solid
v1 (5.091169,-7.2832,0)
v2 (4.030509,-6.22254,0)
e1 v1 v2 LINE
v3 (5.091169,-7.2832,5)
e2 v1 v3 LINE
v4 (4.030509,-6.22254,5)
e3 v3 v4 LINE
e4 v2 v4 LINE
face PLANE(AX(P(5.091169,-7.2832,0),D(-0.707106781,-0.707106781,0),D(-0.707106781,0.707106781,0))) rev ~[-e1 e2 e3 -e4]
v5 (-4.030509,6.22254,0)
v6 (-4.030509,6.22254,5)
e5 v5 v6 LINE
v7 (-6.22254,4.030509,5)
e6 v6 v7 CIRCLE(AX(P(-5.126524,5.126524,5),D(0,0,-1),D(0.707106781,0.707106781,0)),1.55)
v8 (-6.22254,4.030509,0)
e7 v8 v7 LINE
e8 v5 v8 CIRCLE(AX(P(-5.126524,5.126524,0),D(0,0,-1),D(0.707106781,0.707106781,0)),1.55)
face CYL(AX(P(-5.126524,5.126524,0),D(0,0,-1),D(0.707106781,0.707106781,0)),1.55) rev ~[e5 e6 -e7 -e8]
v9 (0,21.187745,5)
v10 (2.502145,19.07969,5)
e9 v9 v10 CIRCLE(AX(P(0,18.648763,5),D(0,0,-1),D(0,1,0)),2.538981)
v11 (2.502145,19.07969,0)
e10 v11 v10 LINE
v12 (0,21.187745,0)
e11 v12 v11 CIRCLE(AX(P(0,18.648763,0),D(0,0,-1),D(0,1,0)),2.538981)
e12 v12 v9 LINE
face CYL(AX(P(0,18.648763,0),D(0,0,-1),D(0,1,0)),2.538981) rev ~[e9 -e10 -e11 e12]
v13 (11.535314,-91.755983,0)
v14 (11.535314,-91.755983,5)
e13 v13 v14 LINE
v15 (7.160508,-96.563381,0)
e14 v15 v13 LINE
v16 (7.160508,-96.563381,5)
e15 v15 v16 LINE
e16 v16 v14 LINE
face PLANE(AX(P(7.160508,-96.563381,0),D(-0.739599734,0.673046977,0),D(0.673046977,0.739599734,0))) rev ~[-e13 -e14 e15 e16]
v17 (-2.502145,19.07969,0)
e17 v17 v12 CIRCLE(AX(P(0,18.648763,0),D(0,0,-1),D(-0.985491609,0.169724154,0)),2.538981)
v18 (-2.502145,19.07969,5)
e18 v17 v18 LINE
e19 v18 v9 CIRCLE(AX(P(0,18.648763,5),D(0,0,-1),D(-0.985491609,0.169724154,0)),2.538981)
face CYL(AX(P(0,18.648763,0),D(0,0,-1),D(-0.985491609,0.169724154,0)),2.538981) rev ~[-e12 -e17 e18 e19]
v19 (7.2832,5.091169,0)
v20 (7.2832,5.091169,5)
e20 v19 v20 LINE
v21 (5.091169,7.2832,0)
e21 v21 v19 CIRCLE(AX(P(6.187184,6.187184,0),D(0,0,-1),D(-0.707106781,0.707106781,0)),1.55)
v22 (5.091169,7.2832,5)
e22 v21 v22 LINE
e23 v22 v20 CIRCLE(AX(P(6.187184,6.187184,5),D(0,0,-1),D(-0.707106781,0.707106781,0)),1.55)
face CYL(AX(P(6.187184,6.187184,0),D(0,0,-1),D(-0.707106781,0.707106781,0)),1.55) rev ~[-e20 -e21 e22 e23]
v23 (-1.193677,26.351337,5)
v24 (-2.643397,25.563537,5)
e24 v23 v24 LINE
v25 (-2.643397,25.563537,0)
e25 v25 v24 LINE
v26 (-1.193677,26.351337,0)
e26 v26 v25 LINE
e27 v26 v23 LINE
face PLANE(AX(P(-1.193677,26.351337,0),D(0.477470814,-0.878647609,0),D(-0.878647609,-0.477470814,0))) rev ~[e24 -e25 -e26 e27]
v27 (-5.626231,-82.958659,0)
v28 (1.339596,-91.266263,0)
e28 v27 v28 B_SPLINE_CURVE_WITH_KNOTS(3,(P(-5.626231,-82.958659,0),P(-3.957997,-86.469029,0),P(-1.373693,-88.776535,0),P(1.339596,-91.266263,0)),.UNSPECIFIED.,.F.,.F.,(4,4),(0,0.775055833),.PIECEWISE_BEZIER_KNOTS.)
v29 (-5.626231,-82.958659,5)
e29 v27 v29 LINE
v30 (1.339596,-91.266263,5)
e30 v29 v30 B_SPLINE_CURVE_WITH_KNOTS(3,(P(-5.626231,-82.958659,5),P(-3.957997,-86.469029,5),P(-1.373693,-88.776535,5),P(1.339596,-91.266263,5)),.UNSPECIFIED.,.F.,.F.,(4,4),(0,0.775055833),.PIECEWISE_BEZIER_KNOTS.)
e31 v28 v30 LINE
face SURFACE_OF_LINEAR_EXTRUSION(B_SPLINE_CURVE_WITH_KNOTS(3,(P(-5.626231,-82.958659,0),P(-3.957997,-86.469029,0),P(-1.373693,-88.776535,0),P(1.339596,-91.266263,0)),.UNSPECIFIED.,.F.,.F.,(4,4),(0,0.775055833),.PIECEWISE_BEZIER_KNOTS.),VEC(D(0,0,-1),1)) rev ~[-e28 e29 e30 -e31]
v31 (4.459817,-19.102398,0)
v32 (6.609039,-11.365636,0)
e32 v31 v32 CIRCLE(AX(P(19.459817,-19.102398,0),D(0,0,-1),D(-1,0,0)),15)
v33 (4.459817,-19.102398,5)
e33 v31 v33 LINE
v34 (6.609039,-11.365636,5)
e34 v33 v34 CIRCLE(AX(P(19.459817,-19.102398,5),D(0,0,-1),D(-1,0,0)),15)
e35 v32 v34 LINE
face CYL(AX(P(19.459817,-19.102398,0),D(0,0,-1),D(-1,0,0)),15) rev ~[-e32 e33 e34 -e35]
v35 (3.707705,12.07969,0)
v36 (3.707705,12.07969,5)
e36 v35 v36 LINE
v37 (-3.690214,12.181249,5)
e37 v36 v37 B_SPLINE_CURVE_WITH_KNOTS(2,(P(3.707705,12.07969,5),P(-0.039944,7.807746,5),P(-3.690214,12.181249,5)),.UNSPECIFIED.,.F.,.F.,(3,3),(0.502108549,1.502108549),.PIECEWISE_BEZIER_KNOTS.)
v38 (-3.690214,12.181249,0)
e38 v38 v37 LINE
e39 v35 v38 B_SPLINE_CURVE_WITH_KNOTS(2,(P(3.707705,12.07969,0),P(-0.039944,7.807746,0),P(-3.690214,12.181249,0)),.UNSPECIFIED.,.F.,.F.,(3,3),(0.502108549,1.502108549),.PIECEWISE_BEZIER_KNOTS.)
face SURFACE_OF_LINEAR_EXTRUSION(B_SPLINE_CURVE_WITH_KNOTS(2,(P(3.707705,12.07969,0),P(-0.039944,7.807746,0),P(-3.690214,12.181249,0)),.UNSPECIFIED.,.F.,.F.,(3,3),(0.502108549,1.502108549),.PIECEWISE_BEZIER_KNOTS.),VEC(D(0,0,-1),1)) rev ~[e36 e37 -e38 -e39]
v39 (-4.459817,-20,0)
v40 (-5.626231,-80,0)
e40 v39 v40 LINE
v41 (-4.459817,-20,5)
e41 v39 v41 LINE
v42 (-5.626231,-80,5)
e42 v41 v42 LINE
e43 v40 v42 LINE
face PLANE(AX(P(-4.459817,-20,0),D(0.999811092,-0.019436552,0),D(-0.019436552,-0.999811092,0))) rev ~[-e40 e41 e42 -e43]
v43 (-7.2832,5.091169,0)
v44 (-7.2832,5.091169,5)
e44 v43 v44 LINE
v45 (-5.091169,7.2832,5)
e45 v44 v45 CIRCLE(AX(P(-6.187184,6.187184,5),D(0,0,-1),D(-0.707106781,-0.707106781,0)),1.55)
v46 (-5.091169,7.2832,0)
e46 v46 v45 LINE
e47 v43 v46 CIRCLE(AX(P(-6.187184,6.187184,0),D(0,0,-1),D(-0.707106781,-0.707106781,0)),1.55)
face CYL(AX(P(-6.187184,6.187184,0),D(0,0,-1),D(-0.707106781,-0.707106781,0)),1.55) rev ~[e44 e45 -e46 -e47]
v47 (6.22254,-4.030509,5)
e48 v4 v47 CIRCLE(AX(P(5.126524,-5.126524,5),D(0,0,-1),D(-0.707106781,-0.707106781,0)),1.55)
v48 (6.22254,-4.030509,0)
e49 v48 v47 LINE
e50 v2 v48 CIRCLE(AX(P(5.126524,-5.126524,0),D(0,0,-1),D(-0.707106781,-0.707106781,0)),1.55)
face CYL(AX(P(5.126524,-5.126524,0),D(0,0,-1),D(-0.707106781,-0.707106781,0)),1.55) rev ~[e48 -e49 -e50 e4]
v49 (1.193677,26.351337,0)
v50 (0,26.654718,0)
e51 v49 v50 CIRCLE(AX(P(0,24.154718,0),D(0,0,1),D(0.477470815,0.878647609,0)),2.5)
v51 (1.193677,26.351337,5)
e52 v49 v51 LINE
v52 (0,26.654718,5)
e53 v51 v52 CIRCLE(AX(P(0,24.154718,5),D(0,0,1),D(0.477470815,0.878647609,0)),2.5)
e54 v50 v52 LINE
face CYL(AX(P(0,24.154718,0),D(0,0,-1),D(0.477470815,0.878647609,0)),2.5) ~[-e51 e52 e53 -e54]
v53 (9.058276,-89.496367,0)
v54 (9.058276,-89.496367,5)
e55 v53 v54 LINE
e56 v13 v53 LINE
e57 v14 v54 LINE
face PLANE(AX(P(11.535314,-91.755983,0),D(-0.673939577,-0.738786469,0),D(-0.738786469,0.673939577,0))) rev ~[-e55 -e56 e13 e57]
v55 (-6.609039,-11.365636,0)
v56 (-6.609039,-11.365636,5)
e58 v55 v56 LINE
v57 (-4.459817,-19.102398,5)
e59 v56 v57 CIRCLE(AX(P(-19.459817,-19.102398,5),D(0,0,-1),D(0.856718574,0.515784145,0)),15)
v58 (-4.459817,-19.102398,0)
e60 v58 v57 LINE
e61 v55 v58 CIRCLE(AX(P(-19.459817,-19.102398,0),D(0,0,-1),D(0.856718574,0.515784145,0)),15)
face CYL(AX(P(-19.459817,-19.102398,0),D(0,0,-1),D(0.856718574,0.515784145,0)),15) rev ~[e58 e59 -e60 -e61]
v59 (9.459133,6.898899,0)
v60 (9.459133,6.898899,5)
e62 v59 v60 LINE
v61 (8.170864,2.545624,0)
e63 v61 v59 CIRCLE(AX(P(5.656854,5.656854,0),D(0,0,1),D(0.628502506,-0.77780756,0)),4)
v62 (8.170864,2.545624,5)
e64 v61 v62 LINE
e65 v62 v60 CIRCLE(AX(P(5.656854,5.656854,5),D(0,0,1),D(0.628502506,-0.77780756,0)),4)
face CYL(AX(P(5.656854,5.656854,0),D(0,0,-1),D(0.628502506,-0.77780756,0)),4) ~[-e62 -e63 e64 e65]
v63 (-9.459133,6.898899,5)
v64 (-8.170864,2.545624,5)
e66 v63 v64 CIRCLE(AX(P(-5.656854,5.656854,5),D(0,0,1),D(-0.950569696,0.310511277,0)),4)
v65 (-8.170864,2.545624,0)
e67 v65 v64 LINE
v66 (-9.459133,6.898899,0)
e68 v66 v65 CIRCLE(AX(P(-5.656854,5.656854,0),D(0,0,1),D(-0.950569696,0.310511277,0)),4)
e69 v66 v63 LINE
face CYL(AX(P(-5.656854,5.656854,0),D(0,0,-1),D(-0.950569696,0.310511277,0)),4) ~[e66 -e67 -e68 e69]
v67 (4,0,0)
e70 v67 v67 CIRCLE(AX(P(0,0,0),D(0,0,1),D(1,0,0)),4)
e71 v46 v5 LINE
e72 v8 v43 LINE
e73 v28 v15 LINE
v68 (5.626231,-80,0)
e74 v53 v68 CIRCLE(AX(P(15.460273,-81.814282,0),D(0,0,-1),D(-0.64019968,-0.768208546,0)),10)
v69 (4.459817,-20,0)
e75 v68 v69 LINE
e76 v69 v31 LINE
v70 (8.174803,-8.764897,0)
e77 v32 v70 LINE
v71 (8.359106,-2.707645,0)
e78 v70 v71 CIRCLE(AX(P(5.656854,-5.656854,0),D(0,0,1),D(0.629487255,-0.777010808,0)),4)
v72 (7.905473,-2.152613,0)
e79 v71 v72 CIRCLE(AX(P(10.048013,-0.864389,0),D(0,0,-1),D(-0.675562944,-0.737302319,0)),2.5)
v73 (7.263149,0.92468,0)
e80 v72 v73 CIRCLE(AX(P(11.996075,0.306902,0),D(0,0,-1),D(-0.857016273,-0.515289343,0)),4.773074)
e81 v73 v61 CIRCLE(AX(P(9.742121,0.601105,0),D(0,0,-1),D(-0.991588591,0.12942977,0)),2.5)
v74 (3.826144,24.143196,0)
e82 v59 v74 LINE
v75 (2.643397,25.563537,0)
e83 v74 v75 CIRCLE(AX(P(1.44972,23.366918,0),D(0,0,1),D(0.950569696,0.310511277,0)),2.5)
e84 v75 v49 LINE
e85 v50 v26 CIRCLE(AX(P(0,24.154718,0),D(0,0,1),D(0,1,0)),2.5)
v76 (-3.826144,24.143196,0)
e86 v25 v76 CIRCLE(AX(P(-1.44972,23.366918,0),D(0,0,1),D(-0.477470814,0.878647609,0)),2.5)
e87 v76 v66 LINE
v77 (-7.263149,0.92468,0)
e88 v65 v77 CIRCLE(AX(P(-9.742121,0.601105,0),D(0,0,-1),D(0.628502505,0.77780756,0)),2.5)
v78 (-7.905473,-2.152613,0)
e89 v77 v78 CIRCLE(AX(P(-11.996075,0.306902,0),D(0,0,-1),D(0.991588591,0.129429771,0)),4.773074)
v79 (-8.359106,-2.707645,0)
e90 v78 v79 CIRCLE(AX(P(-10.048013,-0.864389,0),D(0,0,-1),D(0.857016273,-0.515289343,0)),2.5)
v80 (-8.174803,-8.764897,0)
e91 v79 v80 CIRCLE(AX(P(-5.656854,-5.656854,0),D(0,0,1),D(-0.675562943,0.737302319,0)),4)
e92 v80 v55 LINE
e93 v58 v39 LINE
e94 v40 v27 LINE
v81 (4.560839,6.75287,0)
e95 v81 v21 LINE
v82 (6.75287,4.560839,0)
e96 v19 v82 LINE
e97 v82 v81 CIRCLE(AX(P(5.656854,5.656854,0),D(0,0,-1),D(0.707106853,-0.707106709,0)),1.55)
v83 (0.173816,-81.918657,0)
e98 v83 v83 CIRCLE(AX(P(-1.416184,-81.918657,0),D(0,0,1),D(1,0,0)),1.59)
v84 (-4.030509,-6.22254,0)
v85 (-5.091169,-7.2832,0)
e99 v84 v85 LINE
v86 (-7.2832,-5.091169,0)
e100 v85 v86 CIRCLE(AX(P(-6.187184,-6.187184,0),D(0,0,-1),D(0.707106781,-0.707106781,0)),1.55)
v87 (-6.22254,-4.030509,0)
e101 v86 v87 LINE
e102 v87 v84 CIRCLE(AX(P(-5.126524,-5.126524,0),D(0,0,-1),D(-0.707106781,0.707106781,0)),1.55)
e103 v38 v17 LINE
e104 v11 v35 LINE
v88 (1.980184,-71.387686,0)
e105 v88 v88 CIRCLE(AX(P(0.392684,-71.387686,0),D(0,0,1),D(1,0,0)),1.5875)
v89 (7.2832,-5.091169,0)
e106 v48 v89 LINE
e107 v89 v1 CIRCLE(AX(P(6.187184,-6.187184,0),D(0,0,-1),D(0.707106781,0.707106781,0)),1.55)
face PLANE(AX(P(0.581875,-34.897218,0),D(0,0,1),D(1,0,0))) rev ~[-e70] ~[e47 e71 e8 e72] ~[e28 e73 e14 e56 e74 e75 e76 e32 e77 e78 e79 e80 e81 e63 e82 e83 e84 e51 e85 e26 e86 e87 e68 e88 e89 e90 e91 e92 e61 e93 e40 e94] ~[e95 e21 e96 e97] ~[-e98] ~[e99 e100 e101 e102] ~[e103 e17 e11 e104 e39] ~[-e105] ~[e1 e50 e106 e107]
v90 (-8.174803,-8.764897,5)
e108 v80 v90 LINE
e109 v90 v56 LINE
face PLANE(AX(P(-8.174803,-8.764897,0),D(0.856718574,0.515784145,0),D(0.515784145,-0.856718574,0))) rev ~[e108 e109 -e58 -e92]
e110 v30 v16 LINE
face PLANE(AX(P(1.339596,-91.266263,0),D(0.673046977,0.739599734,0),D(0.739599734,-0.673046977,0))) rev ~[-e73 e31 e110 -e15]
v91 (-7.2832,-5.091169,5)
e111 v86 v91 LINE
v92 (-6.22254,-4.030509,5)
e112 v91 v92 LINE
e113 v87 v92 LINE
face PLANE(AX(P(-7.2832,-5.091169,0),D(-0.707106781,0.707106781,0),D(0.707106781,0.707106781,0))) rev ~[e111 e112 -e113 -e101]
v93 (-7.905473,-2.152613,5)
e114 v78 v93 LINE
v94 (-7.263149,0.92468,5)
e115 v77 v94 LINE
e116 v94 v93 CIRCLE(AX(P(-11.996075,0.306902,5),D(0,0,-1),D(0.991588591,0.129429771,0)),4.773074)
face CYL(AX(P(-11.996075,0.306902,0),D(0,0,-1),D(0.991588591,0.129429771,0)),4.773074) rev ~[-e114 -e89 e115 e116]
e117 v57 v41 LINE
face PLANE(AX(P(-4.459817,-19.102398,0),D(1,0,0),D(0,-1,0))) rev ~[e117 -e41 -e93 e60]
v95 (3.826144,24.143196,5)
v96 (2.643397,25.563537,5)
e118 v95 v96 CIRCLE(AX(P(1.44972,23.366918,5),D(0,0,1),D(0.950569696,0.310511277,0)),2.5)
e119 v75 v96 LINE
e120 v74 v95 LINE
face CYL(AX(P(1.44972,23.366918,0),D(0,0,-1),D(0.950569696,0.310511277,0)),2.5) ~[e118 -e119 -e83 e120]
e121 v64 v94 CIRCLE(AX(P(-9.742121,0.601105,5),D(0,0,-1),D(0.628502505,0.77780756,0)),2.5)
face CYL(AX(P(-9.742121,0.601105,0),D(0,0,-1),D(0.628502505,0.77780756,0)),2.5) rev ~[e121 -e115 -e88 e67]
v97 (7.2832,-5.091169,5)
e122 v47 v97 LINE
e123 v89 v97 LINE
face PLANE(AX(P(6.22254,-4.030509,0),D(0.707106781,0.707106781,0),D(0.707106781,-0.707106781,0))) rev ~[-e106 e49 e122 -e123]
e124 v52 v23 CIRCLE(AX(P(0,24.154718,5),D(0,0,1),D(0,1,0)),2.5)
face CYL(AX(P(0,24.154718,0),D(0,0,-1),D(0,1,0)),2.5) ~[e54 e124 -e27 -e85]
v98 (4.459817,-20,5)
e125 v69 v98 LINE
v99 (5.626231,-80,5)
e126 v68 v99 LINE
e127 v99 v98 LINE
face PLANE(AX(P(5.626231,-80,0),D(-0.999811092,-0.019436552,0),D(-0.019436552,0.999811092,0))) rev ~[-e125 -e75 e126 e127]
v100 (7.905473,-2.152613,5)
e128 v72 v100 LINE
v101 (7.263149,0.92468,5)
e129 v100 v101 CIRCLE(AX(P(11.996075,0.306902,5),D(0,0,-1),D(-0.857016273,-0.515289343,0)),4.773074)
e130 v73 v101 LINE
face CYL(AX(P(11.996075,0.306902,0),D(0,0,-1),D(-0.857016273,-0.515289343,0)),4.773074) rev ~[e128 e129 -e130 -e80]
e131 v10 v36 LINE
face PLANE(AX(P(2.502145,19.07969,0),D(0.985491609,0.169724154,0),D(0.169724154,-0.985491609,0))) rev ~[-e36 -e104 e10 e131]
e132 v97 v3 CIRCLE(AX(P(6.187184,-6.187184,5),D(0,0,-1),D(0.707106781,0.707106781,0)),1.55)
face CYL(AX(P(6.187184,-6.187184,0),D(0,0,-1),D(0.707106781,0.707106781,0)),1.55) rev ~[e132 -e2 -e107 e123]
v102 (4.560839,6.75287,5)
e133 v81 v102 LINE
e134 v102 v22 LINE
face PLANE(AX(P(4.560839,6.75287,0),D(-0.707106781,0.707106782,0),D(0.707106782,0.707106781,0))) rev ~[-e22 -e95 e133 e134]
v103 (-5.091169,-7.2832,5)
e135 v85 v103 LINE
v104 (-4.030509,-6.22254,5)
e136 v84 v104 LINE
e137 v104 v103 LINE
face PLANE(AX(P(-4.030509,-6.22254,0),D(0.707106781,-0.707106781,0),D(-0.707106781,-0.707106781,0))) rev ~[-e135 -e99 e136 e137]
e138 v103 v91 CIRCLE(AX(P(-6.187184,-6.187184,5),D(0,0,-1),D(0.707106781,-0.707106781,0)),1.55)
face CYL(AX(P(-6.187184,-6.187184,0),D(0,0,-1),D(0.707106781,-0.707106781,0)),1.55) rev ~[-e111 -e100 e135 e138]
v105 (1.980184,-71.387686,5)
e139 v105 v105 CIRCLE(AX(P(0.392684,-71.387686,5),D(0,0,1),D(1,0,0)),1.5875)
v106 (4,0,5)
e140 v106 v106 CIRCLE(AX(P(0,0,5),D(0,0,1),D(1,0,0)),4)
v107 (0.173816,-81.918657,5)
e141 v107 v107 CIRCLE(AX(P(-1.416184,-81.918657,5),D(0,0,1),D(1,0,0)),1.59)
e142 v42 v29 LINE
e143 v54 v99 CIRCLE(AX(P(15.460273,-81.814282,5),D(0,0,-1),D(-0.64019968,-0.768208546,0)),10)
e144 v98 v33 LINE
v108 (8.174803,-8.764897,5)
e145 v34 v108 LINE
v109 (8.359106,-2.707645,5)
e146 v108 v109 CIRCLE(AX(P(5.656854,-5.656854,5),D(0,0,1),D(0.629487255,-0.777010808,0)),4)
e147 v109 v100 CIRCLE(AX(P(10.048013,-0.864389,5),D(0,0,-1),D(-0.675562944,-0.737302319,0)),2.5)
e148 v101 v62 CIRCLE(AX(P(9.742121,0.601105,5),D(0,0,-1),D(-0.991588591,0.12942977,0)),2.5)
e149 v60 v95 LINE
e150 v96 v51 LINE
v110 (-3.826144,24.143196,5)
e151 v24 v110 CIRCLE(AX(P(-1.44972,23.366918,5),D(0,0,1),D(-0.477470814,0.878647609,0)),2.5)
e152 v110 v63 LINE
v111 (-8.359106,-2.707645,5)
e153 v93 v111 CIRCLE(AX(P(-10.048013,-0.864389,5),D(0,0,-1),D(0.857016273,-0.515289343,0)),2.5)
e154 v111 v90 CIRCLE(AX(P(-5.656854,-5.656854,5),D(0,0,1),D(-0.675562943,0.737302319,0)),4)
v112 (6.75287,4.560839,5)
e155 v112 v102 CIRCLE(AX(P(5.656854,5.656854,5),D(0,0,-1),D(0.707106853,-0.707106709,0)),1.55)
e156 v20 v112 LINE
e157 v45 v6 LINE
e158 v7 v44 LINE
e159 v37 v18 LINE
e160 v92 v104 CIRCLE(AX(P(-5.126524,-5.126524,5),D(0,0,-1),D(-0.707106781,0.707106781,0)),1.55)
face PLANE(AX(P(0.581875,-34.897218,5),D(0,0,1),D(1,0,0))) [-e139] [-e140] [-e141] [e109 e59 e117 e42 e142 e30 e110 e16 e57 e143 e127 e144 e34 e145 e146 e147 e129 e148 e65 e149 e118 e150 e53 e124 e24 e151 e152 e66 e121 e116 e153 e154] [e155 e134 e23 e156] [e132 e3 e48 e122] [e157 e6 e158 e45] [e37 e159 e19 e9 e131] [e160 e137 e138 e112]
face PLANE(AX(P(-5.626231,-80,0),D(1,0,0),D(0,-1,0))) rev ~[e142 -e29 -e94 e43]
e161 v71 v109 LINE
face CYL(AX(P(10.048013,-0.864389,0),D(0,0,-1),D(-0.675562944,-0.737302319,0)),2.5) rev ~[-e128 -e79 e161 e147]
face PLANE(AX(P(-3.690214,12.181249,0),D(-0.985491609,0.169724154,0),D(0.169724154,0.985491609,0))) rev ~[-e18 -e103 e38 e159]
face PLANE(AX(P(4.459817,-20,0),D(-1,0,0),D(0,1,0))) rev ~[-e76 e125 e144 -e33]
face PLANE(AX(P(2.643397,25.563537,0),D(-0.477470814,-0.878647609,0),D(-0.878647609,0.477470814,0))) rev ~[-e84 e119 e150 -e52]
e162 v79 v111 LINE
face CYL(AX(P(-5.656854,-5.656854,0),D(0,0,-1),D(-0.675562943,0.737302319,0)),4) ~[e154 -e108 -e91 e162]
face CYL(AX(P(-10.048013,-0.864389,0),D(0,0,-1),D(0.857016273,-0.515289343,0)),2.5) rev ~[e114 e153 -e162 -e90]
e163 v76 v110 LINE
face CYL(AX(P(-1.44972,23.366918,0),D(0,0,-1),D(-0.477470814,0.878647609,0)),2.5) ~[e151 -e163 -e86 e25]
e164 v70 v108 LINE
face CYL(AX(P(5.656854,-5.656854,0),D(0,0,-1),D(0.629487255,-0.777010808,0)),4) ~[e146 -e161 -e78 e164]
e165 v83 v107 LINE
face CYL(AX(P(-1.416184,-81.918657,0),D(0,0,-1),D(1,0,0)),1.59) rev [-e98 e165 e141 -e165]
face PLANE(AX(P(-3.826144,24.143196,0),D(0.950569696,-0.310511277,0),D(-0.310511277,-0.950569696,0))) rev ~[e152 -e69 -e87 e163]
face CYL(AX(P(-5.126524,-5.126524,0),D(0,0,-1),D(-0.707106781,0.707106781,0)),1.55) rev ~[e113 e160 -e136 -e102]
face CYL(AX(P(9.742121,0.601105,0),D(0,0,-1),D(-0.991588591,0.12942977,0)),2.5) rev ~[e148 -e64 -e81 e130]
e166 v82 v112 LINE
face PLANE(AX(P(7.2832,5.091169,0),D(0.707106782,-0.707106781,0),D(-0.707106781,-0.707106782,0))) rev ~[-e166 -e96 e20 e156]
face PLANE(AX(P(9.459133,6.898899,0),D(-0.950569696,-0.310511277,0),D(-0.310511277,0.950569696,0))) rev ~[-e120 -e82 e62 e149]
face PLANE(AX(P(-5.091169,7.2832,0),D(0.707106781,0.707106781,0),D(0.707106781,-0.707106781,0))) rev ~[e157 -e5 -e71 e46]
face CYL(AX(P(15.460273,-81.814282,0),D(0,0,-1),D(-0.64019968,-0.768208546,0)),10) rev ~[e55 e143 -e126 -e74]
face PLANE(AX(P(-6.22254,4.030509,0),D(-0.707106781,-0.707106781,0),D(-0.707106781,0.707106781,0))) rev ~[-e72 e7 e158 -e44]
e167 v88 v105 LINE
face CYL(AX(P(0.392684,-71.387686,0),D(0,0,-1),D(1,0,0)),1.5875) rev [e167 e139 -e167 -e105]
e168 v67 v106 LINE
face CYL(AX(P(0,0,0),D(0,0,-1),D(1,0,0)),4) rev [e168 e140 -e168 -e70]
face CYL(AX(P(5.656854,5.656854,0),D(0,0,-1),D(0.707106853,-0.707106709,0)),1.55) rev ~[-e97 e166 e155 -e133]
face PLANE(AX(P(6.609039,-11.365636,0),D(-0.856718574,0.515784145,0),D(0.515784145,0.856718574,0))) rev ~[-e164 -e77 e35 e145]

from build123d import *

# Parameters (mm, degrees)
CROQUIS1_R              = 1.59
CROQUIS1_R_2            = 1.5875
CROQUIS1_R_3            = 4
SALIENTE_EXTRUIR1_DEPTH = 5


with BuildPart() as part:
    # Croquis1 → Saliente-Extruir1 (new body)
    with BuildSketch(Plane.XY):
        with BuildLine():
            ThreePointArc((1.193677036, 26.351337281), (0.615813463, 26.577686227), (0, 26.654718258))
            ThreePointArc((0, 26.654718258), (-0.615813463, 26.577686227), (-1.193677036, 26.351337281))
            Line((-1.193677036, 26.351337281), (-2.643396871, 25.563536913))
            ThreePointArc((-2.643396871, 25.563536913), (-3.37085174, 24.966684186), (-3.826144074, 24.143196083))
            Line((-3.826144074, 24.143196083), (-9.459133033, 6.898899359))
            ThreePointArc((-9.459133033, 6.898899359), (-9.492428214, 4.521789334), (-8.170864273, 2.54562401))
            ThreePointArc((-8.170864273, 2.54562401), (-7.560847643, 1.822599507), (-7.263149059, 0.924679537))
            ThreePointArc((-7.263149059, 0.924679537), (-7.323699332, -0.668363985), (-7.905472696, -2.152612532))
            ThreePointArc((-7.905472696, -2.152612532), (-8.1122929, -2.44647205), (-8.359106022, -2.707644973))
            ThreePointArc((-8.359106022, -2.707644973), (-9.655003955, -5.778505112), (-8.174803271, -8.764897481))
            Line((-8.174803271, -8.764897481), (-6.609038667, -11.365635857))
            ThreePointArc((-6.609038667, -11.365635857), (-5.007106824, -15.087530614), (-4.459817284, -19.102398031))
            Line((-4.459817284, -19.102398031), (-4.459817284, -20))
            Line((-4.459817284, -20), (-5.626230736, -80))
            Line((-5.626230736, -80), (-5.626230736, -82.958659211))
            add(Edge.make_bspline(
                [(-5.626230736, -82.958659211), (-3.957996586, -86.469029482), (-1.373693138, -88.776535361), (1.33959564, -91.266262586)],
                knots=[0, 0, 0, 0, 0.775055833, 0.775055833, 0.775055833, 0.775055833], degree=3))
            Line((1.33959564, -91.266262586), (7.160508284, -96.56338139))
            Line((7.160508284, -96.56338139), (11.535313635, -91.755983118))
            Line((11.535313635, -91.755983118), (9.058275941, -89.496367102))
            ThreePointArc((9.058275941, -89.496367102), (6.055620379, -85.213180579), (5.626230736, -80))
            Line((5.626230736, -80), (4.459817284, -20))
            Line((4.459817284, -20), (4.459817284, -19.102398031))
            ThreePointArc((4.459817284, -19.102398031), (5.007106824, -15.087530614), (6.609038667, -11.365635857))
            Line((6.609038667, -11.365635857), (8.174803271, -8.764897481))
            ThreePointArc((8.174803271, -8.764897481), (9.655003955, -5.778505112), (8.359106022, -2.707644973))
            ThreePointArc((8.359106022, -2.707644973), (8.1122929, -2.44647205), (7.905472696, -2.152612532))
            ThreePointArc((7.905472696, -2.152612532), (7.323699332, -0.668363985), (7.263149059, 0.924679537))
            ThreePointArc((7.263149059, 0.924679537), (7.560847643, 1.822599507), (8.170864273, 2.54562401))
            ThreePointArc((8.170864273, 2.54562401), (9.492428214, 4.521789334), (9.459133033, 6.898899359))
            Line((9.459133033, 6.898899359), (3.826144074, 24.143196083))
            ThreePointArc((3.826144074, 24.143196083), (3.37085174, 24.966684186), (2.643396871, 25.563536913))
            Line((2.643396871, 25.563536913), (1.193677036, 26.351337281))
        make_face()
        with Locations((-1.416184287, -81.918657321)):
            Circle(CROQUIS1_R, mode=Mode.SUBTRACT)
        with Locations((0.39268377, -71.387686118)):
            Circle(CROQUIS1_R_2, mode=Mode.SUBTRACT)
        with BuildLine():
            ThreePointArc((-5.091168825, -7.283199846), (-7.283199846, -7.283199846), (-7.283199846, -5.091168825))
            Line((-7.283199846, -5.091168825), (-6.222539674, -4.030508653))
            ThreePointArc((-6.222539674, -4.030508653), (-4.030508653, -4.030508653), (-4.030508653, -6.222539674))
            Line((-4.030508653, -6.222539674), (-5.091168825, -7.283199846))
        make_face(mode=Mode.SUBTRACT)
        with BuildLine():
            ThreePointArc((-7.283199846, 5.091168825), (-7.283199846, 7.283199846), (-5.091168825, 7.283199846))
            Line((-5.091168825, 7.283199846), (-4.030508653, 6.222539674))
            ThreePointArc((-4.030508653, 6.222539674), (-4.030508653, 4.030508653), (-6.222539674, 4.030508653))
            Line((-6.222539674, 4.030508653), (-7.283199846, 5.091168825))
        make_face(mode=Mode.SUBTRACT)
        Circle(CROQUIS1_R_3, mode=Mode.SUBTRACT)
        with BuildLine():
            Line((-3.690213899, 12.181248638), (-2.502144822, 19.079689902))
            ThreePointArc((-2.502144822, 19.079689902), (-1.635896096, 20.590481825), (0, 21.187744795))
            ThreePointArc((0, 21.187744795), (1.635896096, 20.590481825), (2.502144822, 19.079689902))
            Line((2.502144822, 19.079689902), (3.707704632, 12.079689902))
            add(Edge.make_bspline(
                [(3.707704632, 12.079689902), (-0.039943984, 7.807746472), (-3.690213899, 12.181248638)],
                knots=[0.502108549, 0.502108549, 0.502108549, 1.502108549, 1.502108549, 1.502108549], degree=2))
        make_face(mode=Mode.SUBTRACT)
        with BuildLine():
            ThreePointArc((7.283199846, -5.091168825), (7.283199846, -7.283199846), (5.091168825, -7.283199846))
            Line((5.091168825, -7.283199846), (4.030508653, -6.222539674))
            ThreePointArc((4.030508653, -6.222539674), (4.030508653, -4.030508653), (6.222539674, -4.030508653))
            Line((6.222539674, -4.030508653), (7.283199846, -5.091168825))
        make_face(mode=Mode.SUBTRACT)
        with BuildLine():
            Line((4.560838717, 6.752869739), (5.091168825, 7.283199846))
            ThreePointArc((5.091168825, 7.283199846), (7.283199846, 7.283199846), (7.283199846, 5.091168825))
            Line((7.283199846, 5.091168825), (6.752869872, 4.56083885))
            ThreePointArc((6.752869872, 4.56083885), (4.560838805, 4.560838672), (4.560838717, 6.752869739))
        make_face(mode=Mode.SUBTRACT)
    extrude(amount=SALIENTE_EXTRUIR1_DEPTH)


solid = part.part
